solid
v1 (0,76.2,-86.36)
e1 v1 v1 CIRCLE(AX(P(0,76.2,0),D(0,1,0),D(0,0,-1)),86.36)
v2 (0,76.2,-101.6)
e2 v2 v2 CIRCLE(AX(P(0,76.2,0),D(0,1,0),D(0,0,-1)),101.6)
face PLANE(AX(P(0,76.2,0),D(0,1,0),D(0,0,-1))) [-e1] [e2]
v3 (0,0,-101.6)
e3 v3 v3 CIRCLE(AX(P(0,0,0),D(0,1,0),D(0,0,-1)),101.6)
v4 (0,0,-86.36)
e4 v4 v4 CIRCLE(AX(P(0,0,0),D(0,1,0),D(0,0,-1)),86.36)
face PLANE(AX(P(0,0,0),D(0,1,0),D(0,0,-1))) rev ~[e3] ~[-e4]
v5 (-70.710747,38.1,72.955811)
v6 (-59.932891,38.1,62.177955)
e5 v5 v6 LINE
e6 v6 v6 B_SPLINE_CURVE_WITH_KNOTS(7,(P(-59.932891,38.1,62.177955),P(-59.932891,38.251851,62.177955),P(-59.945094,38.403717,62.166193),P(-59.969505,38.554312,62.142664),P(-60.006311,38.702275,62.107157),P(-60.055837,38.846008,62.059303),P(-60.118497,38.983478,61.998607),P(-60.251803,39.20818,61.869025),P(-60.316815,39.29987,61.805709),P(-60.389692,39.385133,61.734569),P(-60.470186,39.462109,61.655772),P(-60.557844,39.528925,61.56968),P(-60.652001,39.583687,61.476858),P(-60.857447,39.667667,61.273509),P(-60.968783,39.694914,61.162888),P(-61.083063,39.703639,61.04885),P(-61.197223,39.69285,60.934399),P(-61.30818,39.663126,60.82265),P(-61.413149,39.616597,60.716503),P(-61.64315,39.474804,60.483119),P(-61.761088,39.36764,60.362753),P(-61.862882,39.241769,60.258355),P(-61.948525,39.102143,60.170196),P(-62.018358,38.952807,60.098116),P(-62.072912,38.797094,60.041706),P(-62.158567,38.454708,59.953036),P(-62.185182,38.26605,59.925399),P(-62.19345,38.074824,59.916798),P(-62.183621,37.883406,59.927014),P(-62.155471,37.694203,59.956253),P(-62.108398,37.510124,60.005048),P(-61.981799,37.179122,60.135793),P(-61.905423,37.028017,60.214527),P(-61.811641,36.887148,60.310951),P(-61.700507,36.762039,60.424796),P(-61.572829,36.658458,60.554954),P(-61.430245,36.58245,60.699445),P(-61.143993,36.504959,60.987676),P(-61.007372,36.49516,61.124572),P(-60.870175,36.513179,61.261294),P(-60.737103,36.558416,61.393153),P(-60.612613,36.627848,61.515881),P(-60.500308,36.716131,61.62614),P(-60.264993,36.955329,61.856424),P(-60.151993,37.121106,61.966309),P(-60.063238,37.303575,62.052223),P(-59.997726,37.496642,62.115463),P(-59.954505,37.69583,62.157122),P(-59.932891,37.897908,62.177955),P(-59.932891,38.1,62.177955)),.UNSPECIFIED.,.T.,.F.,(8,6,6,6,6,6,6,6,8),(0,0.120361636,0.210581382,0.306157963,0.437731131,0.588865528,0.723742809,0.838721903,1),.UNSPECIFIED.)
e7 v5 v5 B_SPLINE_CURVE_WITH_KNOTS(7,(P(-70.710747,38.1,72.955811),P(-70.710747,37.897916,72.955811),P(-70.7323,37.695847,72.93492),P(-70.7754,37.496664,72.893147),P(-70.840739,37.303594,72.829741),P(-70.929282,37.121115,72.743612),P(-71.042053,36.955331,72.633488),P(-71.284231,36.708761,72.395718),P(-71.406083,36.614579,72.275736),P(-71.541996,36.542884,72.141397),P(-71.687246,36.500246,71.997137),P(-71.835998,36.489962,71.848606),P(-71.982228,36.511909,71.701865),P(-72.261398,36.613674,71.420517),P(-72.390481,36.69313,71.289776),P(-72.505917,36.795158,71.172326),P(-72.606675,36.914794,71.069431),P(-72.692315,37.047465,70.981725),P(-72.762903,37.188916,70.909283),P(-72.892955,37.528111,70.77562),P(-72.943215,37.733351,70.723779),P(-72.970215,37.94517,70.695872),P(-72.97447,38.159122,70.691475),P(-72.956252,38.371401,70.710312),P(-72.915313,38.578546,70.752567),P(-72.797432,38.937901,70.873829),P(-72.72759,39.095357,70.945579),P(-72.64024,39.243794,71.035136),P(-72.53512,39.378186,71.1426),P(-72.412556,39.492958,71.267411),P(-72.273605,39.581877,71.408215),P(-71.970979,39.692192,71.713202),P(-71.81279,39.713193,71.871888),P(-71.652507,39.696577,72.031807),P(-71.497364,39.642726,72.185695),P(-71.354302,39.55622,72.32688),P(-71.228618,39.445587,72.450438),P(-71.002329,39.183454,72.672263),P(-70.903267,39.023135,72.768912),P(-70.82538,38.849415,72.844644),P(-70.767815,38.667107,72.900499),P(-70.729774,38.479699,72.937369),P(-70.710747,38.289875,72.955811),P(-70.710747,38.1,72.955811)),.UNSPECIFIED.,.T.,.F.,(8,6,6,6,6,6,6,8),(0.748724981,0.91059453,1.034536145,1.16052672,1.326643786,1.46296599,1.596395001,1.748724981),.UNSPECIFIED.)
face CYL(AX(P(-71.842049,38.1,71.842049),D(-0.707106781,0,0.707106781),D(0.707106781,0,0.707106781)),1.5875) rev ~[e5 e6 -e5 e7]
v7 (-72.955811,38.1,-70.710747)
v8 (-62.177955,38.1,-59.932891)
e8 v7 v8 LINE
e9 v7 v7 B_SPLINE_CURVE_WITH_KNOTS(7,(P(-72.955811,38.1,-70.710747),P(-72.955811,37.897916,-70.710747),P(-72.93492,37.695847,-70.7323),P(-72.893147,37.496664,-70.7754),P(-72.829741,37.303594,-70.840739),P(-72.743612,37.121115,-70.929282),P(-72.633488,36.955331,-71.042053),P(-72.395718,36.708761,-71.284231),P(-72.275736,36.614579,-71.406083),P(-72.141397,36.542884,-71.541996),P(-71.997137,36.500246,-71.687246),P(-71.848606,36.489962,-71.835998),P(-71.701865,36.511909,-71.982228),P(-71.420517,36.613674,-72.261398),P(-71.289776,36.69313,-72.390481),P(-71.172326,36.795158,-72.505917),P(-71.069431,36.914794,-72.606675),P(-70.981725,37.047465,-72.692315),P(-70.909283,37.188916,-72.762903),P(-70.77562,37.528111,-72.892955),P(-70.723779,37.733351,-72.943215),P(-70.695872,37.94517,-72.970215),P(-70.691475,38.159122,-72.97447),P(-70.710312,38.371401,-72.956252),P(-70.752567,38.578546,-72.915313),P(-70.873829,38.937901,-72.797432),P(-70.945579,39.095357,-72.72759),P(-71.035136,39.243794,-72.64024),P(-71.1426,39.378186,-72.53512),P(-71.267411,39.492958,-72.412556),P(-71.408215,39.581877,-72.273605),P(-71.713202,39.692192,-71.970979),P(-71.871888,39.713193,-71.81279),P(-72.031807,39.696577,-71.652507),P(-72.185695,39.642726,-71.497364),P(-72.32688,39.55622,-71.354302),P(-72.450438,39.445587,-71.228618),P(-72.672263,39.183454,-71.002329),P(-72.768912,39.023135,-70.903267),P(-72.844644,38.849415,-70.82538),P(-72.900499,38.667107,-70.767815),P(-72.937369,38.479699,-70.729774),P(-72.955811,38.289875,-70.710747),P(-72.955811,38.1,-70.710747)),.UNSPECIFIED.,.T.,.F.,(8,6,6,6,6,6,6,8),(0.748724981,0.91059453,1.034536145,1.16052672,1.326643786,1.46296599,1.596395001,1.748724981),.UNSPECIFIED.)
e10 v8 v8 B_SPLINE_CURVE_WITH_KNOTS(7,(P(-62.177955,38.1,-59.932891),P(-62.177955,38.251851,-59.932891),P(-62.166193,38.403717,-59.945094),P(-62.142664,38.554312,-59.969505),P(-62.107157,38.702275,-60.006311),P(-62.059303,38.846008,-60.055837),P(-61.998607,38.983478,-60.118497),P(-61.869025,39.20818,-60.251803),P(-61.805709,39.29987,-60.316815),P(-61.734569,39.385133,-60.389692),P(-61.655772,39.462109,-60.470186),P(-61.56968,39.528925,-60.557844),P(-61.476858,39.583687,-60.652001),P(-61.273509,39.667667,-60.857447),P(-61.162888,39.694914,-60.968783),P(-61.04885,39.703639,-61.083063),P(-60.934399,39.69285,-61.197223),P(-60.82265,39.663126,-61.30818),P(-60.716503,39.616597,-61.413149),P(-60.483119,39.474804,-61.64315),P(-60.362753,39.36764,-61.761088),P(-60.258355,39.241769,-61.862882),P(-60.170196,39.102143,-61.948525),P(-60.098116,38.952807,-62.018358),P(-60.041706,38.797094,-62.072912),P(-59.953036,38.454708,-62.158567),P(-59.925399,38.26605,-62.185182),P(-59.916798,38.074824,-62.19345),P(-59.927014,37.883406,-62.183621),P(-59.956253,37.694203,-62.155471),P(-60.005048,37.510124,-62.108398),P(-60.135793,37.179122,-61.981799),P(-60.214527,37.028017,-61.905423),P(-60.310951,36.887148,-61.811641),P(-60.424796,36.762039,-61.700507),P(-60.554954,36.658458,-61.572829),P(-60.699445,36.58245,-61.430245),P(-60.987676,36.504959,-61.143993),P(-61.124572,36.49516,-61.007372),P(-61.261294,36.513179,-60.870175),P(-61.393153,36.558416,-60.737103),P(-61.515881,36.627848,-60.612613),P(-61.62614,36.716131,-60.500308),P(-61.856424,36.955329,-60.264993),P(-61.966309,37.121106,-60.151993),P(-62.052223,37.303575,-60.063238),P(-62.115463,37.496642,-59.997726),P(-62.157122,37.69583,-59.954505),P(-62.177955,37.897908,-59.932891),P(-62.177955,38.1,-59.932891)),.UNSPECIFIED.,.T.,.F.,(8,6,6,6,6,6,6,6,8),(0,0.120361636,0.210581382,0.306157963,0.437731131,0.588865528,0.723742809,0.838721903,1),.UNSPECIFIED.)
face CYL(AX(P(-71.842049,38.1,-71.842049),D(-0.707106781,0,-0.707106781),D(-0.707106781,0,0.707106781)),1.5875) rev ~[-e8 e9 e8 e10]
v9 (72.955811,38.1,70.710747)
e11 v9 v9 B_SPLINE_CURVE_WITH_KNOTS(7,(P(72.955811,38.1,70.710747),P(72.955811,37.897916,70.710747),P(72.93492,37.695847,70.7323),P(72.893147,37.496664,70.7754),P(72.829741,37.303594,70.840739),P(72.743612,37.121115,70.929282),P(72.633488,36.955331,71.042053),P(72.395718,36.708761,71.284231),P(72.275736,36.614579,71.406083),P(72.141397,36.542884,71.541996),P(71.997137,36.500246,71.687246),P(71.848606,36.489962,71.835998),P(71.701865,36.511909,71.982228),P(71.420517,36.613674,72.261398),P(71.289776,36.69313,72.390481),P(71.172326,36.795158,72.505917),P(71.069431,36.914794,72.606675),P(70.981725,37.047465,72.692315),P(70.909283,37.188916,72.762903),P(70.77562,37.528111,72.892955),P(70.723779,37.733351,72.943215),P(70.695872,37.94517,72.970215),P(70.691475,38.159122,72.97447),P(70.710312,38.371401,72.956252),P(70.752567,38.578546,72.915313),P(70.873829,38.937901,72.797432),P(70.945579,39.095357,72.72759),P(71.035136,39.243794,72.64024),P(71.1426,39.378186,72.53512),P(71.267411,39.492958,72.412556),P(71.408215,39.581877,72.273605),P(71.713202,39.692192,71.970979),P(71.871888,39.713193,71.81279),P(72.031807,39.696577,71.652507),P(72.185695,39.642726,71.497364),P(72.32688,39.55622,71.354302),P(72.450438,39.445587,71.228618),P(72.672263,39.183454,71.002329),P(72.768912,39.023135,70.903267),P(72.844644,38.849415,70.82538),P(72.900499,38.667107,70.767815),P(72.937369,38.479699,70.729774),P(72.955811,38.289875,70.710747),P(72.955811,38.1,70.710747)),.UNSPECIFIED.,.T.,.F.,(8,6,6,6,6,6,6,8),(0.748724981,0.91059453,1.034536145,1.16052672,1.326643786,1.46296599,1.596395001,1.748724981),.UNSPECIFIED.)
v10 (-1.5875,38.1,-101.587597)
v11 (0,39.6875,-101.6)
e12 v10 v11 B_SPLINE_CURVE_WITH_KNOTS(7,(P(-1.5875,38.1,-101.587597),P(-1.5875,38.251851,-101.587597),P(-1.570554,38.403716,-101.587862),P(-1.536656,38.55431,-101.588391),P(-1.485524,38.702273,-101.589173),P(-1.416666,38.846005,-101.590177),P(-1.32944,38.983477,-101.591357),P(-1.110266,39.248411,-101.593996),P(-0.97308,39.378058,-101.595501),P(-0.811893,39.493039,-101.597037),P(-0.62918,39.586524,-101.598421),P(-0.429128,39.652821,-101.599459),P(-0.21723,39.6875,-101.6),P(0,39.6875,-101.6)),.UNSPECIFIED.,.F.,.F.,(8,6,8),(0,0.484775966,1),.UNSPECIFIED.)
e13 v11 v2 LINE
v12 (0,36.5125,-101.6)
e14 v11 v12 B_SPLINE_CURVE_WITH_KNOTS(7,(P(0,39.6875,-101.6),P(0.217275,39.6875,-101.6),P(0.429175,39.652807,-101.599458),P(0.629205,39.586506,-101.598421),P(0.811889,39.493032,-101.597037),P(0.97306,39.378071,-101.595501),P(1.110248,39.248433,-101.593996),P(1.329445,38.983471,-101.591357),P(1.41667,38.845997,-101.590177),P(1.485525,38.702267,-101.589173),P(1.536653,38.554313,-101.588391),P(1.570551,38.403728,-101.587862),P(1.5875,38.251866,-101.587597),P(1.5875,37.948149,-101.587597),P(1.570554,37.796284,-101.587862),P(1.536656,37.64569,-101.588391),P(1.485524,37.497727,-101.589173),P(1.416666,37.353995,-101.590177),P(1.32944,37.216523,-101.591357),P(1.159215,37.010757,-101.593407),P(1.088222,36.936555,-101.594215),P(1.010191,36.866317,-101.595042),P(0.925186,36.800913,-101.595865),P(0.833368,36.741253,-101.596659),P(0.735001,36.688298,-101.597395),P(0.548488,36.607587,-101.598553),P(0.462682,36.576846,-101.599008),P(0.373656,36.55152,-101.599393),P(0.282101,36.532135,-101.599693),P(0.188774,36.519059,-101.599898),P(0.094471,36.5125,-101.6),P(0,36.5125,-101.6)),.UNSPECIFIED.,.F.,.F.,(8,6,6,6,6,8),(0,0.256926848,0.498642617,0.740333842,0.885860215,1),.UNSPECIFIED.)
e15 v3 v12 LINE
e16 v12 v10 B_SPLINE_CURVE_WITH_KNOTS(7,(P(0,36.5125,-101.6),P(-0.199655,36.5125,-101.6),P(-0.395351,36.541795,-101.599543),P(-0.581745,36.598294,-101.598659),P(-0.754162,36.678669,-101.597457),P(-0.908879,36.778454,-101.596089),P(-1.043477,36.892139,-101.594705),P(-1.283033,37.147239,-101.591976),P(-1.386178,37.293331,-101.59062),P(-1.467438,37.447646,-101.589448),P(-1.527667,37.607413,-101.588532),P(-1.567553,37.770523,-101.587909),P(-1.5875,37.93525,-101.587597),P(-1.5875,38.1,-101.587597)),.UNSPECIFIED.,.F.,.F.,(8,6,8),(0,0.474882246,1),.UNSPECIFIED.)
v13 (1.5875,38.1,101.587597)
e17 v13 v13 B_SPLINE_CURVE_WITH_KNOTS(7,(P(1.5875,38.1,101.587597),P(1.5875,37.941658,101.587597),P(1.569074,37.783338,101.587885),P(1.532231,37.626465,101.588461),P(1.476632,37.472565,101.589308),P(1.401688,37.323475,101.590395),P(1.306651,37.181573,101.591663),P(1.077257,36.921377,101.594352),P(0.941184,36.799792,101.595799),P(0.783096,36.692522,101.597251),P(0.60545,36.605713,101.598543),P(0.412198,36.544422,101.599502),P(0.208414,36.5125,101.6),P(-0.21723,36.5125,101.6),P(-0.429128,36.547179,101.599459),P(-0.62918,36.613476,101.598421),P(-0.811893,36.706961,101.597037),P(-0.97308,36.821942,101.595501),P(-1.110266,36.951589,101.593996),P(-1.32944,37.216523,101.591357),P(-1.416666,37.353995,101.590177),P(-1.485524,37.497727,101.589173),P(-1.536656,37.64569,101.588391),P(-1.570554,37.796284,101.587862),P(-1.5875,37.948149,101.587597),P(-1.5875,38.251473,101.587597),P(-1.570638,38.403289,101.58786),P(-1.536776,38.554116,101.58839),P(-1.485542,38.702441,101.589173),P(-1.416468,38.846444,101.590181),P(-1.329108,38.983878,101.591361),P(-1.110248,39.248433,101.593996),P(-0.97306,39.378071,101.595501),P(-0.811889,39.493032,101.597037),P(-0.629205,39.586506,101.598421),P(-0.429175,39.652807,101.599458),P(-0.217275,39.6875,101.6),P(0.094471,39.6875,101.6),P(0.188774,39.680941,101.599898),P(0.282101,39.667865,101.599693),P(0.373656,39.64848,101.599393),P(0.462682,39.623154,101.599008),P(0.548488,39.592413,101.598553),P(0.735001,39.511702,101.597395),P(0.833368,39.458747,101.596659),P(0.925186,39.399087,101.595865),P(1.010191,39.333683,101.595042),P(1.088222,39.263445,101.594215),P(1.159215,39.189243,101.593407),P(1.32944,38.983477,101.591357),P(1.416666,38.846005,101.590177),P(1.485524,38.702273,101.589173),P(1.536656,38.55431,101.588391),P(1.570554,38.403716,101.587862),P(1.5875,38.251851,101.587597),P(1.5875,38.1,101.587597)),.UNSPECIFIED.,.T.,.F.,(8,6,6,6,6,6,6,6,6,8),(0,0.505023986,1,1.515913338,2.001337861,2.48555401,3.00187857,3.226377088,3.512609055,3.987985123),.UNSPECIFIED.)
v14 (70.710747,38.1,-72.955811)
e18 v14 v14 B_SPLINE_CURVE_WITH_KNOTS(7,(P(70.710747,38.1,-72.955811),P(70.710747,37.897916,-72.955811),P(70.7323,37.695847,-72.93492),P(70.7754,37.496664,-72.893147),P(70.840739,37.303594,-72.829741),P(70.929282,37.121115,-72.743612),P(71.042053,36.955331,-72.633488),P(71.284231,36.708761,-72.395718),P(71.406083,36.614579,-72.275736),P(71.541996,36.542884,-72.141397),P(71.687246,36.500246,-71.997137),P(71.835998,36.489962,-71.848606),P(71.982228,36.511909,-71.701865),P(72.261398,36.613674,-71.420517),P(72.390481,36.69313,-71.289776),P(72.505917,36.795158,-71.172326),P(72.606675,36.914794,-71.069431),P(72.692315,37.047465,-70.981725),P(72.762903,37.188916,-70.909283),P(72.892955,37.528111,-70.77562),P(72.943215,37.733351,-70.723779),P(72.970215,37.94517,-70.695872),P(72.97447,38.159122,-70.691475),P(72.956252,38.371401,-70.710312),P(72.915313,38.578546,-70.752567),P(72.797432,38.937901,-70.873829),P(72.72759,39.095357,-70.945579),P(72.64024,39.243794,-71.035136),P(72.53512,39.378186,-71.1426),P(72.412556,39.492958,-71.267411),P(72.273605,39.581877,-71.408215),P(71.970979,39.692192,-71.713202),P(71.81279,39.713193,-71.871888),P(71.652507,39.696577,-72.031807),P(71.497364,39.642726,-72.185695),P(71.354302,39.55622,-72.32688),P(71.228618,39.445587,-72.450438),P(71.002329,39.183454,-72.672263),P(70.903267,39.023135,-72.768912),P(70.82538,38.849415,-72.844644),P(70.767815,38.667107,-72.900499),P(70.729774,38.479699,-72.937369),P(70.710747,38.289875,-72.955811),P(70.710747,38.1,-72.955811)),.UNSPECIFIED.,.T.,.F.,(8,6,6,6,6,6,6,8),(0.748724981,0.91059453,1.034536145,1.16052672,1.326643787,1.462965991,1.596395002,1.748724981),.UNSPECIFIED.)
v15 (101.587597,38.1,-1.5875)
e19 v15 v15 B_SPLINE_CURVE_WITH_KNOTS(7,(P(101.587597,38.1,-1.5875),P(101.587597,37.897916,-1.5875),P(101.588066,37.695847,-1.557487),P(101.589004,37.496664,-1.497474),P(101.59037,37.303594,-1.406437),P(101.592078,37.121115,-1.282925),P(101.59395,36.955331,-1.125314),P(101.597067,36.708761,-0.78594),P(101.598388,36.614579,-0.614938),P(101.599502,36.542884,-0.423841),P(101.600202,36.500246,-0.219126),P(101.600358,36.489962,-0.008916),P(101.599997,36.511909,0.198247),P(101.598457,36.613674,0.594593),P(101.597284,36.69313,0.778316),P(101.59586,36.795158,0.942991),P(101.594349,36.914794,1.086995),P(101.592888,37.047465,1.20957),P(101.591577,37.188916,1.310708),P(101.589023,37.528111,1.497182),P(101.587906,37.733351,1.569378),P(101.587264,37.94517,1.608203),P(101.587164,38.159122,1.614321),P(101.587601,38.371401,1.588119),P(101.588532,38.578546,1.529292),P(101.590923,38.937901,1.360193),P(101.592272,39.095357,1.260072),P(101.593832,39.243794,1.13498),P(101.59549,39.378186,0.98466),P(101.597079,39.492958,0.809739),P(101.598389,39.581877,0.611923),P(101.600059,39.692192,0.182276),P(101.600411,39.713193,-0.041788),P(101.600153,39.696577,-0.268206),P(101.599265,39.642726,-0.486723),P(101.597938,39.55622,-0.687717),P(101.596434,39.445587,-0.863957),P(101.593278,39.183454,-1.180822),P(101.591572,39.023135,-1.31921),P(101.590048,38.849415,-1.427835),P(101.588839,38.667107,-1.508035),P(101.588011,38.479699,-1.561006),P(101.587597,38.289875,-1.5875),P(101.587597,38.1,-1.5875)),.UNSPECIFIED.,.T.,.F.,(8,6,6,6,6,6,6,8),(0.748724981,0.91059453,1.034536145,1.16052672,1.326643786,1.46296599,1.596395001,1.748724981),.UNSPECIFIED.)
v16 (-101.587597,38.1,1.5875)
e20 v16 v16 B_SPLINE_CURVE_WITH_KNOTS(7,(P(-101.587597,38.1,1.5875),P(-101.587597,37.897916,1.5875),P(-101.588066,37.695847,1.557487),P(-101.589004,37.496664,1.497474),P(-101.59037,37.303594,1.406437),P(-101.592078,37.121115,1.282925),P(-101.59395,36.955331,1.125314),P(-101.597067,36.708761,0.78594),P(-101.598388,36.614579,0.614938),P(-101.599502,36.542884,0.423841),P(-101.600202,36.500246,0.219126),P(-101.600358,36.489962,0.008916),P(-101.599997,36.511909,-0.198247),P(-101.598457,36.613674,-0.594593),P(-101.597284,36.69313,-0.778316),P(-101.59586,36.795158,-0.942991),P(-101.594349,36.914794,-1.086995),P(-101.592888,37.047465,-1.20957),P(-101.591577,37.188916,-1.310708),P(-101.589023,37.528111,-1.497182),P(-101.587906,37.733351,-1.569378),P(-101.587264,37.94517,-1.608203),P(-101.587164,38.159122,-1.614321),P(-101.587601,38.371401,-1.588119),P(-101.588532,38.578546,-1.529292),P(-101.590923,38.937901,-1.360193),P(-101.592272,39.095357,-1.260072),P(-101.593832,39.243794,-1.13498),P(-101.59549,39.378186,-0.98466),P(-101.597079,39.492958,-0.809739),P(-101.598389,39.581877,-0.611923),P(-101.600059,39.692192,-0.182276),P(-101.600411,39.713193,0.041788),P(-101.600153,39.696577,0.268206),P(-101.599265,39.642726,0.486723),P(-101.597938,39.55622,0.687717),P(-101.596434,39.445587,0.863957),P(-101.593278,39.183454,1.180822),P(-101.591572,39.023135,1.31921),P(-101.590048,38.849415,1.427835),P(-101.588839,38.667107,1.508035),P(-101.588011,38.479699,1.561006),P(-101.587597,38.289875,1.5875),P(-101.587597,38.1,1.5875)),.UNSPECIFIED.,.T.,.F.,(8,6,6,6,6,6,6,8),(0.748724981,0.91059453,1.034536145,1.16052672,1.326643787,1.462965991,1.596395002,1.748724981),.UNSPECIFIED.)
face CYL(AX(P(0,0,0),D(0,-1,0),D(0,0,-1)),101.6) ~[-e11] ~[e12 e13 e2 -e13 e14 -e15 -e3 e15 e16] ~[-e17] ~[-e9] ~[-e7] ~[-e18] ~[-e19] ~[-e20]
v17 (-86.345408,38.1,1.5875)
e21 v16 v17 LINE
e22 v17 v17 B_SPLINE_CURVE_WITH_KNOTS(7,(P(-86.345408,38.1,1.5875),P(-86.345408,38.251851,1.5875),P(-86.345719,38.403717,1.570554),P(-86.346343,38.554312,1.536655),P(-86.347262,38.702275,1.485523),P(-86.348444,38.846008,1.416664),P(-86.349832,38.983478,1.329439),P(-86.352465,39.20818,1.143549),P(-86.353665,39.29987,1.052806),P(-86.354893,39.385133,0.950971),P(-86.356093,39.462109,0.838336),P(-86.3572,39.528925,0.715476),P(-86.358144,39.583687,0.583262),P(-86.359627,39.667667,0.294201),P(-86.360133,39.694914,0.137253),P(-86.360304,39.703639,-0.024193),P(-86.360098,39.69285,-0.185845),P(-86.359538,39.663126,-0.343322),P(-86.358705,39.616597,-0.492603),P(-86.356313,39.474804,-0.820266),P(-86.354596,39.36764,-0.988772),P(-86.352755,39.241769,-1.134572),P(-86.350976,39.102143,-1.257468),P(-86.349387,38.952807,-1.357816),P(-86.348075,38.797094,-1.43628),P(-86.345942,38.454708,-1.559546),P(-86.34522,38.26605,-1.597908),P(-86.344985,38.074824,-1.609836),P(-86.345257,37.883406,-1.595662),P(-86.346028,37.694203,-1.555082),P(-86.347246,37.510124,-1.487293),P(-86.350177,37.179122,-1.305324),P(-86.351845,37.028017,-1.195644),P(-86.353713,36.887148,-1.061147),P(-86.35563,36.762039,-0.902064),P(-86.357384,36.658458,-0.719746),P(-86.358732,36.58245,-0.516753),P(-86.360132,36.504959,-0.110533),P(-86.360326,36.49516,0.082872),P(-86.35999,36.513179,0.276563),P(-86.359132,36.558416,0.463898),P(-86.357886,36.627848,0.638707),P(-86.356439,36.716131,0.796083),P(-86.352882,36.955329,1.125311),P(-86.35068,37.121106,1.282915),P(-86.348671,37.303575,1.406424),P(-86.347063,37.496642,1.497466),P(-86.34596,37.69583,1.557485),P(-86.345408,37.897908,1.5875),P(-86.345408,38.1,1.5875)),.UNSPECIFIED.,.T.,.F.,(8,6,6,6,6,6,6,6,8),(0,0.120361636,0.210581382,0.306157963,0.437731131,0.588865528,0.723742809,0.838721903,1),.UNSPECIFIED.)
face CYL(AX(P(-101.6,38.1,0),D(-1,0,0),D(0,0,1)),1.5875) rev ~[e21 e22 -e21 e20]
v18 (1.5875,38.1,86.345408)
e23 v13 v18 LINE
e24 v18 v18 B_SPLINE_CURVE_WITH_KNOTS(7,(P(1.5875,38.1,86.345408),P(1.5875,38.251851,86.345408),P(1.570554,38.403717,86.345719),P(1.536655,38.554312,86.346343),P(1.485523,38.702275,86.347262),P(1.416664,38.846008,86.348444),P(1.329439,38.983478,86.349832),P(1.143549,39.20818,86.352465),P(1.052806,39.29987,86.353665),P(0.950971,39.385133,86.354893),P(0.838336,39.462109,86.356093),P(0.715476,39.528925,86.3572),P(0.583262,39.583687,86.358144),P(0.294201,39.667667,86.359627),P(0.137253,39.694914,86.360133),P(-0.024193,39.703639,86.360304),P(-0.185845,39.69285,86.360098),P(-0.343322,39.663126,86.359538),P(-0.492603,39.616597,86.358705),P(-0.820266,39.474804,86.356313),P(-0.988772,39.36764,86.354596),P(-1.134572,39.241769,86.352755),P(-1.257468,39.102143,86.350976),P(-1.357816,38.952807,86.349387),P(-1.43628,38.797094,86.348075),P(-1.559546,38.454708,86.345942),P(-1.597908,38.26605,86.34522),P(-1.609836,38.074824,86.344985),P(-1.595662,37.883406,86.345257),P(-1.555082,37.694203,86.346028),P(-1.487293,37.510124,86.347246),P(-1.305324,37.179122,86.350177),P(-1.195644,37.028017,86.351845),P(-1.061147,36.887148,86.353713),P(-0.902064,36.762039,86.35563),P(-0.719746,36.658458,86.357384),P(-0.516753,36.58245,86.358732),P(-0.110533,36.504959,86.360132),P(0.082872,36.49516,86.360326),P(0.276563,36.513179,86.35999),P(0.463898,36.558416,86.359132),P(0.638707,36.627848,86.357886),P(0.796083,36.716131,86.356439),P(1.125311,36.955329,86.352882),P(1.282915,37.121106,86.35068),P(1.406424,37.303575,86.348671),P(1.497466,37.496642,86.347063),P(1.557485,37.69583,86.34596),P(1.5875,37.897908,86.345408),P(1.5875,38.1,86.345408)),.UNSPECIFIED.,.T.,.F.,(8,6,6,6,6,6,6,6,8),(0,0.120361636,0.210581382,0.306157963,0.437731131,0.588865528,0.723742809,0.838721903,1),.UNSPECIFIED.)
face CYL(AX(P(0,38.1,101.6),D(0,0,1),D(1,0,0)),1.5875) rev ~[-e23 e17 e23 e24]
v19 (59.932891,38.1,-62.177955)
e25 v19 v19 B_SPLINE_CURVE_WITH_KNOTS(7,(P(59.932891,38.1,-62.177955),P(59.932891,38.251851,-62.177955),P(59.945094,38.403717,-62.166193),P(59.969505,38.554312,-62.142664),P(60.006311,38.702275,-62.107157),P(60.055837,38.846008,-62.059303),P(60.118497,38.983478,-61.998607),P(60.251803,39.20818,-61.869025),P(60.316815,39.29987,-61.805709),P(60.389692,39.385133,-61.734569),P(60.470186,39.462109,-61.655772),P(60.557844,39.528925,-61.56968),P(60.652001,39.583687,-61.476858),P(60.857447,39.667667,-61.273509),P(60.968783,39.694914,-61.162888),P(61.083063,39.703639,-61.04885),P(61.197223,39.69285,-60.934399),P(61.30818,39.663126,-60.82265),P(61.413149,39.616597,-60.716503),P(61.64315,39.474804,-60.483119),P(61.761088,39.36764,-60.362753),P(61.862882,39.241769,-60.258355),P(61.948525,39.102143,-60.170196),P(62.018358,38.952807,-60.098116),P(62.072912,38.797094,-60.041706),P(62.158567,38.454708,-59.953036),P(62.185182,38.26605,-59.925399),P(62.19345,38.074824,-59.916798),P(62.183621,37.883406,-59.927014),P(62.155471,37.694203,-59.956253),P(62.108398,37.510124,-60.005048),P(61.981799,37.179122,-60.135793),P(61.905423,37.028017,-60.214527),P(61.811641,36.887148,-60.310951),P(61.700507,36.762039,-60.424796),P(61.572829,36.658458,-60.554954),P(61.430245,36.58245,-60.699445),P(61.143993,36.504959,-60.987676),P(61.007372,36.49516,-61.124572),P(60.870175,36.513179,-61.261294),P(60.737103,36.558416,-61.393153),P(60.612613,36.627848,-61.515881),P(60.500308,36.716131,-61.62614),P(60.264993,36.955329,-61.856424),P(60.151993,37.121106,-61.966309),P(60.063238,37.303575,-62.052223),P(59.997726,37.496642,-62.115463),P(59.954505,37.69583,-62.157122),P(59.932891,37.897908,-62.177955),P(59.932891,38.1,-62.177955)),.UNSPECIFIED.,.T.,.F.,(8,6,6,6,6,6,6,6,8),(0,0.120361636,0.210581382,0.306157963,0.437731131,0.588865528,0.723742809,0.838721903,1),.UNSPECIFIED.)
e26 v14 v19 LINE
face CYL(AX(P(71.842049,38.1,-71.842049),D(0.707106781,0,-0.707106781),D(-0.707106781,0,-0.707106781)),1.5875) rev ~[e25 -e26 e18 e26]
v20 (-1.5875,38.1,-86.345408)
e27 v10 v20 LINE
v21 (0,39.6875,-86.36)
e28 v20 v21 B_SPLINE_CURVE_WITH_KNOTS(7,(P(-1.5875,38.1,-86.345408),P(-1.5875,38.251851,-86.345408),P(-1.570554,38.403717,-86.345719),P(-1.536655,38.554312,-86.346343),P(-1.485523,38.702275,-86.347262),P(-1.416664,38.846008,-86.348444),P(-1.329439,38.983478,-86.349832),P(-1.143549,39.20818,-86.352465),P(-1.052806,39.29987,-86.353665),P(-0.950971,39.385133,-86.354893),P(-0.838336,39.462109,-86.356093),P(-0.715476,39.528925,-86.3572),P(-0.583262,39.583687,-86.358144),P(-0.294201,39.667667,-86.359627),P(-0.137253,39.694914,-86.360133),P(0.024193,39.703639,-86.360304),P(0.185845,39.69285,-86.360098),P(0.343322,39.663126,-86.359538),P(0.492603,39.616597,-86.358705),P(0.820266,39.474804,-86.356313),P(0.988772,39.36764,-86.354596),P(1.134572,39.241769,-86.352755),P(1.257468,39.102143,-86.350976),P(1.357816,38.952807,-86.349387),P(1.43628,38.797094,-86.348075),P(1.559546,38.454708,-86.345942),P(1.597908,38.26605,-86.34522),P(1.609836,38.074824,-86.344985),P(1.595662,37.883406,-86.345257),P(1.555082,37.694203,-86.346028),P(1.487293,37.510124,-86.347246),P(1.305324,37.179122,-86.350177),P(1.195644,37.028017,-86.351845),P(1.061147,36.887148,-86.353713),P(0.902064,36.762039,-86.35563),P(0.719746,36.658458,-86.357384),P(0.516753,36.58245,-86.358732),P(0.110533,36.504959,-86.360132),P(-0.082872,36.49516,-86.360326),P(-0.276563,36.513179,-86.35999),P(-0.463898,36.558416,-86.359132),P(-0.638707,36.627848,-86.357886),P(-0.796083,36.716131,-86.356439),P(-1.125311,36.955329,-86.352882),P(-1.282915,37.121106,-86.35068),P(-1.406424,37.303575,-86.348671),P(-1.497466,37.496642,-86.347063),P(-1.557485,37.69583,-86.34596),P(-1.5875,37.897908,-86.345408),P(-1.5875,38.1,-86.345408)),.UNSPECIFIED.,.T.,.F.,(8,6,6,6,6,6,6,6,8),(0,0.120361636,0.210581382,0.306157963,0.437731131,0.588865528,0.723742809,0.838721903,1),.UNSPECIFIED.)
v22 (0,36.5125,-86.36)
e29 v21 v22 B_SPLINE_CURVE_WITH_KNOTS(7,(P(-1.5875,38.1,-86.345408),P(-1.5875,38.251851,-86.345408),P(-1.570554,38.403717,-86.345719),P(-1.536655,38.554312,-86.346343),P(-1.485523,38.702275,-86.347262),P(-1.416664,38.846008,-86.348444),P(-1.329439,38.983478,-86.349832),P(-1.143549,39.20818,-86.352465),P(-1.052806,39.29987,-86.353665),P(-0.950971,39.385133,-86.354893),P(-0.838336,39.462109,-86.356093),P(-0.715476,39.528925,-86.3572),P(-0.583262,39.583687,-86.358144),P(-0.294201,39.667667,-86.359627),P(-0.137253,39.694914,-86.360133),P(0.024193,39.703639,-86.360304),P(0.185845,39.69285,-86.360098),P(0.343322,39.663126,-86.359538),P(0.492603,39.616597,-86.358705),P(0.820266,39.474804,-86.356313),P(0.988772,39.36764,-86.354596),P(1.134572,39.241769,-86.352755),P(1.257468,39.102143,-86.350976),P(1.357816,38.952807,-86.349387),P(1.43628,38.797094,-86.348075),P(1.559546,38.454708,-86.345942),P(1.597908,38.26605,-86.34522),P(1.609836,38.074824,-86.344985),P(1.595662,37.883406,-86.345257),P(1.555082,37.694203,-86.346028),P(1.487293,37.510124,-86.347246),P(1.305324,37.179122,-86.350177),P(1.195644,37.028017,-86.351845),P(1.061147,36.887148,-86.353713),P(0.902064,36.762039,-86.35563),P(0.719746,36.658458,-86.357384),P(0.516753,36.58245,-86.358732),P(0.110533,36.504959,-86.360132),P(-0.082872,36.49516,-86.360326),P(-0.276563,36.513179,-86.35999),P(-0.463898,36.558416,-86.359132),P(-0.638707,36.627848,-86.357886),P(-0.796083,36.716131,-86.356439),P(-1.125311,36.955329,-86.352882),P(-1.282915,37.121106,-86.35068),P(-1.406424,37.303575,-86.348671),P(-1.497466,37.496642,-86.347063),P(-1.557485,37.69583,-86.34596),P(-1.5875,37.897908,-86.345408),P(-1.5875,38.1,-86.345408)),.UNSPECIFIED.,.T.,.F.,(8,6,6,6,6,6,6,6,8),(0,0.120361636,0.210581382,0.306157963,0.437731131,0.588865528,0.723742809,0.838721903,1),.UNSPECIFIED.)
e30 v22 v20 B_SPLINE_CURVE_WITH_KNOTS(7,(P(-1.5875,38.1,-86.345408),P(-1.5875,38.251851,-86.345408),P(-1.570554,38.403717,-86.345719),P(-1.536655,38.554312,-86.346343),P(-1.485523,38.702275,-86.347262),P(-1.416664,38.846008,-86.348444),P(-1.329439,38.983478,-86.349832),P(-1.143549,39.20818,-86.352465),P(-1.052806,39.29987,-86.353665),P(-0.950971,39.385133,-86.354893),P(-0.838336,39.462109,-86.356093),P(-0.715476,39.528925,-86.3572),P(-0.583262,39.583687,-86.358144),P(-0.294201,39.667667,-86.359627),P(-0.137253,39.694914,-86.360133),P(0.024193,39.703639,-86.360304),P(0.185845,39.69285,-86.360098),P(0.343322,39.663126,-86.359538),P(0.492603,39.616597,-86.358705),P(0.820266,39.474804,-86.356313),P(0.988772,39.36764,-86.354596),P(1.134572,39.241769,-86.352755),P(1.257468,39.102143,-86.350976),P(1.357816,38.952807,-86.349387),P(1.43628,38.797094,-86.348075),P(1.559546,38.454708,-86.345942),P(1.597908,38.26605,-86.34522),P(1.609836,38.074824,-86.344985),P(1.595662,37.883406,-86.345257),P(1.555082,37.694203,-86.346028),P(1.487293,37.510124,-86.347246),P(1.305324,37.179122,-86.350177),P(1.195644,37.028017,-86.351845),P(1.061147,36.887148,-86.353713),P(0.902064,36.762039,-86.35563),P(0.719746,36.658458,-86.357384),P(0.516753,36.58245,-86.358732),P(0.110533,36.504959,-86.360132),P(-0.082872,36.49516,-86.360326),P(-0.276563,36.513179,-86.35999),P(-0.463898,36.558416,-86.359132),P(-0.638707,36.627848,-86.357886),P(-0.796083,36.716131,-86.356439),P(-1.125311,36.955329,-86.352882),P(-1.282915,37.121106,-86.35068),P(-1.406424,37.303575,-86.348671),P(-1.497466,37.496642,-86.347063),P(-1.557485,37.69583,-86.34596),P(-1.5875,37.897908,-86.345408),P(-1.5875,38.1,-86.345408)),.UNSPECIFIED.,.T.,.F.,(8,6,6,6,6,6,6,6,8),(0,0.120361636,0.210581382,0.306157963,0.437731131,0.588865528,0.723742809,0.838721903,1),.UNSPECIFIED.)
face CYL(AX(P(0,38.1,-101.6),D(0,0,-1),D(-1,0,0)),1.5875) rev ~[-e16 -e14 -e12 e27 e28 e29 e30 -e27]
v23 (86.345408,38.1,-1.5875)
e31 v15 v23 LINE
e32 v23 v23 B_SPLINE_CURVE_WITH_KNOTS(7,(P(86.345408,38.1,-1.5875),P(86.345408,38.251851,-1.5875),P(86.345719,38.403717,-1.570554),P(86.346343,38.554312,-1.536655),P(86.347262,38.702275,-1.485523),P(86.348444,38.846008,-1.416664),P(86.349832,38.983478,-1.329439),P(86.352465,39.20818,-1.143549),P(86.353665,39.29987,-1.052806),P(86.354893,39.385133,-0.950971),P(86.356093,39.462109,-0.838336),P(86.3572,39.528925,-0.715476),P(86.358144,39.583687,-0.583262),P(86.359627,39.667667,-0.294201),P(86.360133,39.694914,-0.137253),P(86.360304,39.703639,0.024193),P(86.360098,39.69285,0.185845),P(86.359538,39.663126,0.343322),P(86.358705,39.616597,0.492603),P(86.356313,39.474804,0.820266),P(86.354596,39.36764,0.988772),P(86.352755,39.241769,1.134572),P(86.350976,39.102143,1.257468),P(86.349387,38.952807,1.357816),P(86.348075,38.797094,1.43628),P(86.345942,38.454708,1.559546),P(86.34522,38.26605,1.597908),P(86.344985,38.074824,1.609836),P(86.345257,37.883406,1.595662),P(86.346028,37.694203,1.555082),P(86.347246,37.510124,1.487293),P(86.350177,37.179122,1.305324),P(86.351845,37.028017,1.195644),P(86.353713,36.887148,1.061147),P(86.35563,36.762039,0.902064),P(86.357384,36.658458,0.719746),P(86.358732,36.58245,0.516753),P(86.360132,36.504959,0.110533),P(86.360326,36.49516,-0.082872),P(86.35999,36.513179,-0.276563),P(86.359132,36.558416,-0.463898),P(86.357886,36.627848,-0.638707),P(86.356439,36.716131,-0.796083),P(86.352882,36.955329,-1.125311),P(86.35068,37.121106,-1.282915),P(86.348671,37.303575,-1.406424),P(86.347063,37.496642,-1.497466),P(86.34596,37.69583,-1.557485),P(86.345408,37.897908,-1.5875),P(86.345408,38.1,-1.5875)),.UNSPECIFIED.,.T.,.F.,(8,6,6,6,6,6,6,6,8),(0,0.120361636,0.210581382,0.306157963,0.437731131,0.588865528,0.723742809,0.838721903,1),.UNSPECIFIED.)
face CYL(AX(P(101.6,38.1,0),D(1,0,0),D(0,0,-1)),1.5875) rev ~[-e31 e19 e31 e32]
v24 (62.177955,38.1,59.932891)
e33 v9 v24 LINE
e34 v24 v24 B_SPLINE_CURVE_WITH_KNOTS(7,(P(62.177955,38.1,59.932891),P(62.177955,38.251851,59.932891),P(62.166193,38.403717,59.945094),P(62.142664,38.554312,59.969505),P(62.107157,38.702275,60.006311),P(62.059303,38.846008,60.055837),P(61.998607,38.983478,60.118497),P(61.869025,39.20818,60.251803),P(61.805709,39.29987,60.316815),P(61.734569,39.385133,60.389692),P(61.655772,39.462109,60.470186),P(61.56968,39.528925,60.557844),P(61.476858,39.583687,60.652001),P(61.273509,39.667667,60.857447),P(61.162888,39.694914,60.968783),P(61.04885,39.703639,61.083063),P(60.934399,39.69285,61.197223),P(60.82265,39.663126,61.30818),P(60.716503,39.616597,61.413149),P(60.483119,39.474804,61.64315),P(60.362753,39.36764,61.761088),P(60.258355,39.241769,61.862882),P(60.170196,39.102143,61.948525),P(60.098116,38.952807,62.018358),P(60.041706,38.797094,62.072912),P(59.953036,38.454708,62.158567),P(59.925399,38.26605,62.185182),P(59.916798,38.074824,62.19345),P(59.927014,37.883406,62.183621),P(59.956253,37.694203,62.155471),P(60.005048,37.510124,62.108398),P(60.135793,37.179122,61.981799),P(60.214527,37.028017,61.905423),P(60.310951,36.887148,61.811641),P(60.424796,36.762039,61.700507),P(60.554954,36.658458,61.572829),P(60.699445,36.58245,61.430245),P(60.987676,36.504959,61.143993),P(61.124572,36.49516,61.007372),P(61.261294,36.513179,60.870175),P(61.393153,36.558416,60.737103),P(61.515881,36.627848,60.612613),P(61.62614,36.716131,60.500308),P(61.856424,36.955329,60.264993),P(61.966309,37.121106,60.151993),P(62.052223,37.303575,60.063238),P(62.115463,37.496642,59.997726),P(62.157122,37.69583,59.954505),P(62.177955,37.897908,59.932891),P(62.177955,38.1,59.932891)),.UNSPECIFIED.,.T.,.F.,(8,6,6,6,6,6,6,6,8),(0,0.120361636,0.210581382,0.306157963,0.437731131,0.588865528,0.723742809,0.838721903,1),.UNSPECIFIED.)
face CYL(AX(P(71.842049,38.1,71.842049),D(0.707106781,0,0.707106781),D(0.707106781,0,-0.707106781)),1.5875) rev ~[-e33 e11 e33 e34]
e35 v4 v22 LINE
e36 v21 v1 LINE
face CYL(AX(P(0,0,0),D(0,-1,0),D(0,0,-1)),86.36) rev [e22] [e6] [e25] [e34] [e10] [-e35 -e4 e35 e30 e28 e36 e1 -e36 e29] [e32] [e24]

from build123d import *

# Parameters (mm, degrees)
SKETCH1_R               = 101.6
SKETCH1_R_2             = 86.36
BOSS_EXTRUDE1_DEPTH     = 76.2
CUT_EXTRUDE1_REACH      = 241.623
CUT_EXTRUDE1_END_RADIUS = 86.36
SKETCH2_R               = 1.5875
CIRPATTERN1_COUNT       = 8


with BuildPart() as part:
    # Sketch1 → Boss-Extrude1 (new body)
    with BuildSketch(Plane(origin=(0, 0, 0), x_dir=(1, 0, 0), z_dir=(0, 1, 0))):
        with Locations(Location((0, 0, 0), (0, 0, 90))):
            Circle(SKETCH1_R)
        with Locations(Location((0, 0, 0), (0, 0, 90))):
            Circle(SKETCH1_R_2, mode=Mode.SUBTRACT)
    extrude(amount=BOSS_EXTRUDE1_DEPTH)

    # Cut-Extrude1: up to this cylinder (the profile starts outside it)
    cut_extrude1_end = Plane(origin=(0, 38.1, 0), z_dir=(0, -1, 0)) * Cylinder(CUT_EXTRUDE1_END_RADIUS, 656.966, mode=Mode.PRIVATE)
    # Sketch2 → Cut-Extrude1 (cut, up to the surface)
    with BuildSketch(Plane.XY.offset(101.6), mode=Mode.PRIVATE) as cut_extrude1_sk1:
        with Locations((0, 38.1)):
            Circle(SKETCH2_R)
    cut_extrude1_tool1 = extrude(cut_extrude1_sk1.sketch, amount=-CUT_EXTRUDE1_REACH, mode=Mode.PRIVATE) - cut_extrude1_end
    cut_extrude1 = cut_extrude1_tool1.solids().sort_by_distance((0, 38.1, 101.6))[0]
    add(cut_extrude1, mode=Mode.SUBTRACT)

    # CirPattern1: Cut-Extrude1 ×8 about axis
    cirpattern1_axis = Axis((0, 76.2, 0), (0, -1, 0))
    for i in range(1, CIRPATTERN1_COUNT):
        add(cut_extrude1.rotate(cirpattern1_axis, i * 360 / CIRPATTERN1_COUNT), mode=Mode.SUBTRACT)


solid = part.part
